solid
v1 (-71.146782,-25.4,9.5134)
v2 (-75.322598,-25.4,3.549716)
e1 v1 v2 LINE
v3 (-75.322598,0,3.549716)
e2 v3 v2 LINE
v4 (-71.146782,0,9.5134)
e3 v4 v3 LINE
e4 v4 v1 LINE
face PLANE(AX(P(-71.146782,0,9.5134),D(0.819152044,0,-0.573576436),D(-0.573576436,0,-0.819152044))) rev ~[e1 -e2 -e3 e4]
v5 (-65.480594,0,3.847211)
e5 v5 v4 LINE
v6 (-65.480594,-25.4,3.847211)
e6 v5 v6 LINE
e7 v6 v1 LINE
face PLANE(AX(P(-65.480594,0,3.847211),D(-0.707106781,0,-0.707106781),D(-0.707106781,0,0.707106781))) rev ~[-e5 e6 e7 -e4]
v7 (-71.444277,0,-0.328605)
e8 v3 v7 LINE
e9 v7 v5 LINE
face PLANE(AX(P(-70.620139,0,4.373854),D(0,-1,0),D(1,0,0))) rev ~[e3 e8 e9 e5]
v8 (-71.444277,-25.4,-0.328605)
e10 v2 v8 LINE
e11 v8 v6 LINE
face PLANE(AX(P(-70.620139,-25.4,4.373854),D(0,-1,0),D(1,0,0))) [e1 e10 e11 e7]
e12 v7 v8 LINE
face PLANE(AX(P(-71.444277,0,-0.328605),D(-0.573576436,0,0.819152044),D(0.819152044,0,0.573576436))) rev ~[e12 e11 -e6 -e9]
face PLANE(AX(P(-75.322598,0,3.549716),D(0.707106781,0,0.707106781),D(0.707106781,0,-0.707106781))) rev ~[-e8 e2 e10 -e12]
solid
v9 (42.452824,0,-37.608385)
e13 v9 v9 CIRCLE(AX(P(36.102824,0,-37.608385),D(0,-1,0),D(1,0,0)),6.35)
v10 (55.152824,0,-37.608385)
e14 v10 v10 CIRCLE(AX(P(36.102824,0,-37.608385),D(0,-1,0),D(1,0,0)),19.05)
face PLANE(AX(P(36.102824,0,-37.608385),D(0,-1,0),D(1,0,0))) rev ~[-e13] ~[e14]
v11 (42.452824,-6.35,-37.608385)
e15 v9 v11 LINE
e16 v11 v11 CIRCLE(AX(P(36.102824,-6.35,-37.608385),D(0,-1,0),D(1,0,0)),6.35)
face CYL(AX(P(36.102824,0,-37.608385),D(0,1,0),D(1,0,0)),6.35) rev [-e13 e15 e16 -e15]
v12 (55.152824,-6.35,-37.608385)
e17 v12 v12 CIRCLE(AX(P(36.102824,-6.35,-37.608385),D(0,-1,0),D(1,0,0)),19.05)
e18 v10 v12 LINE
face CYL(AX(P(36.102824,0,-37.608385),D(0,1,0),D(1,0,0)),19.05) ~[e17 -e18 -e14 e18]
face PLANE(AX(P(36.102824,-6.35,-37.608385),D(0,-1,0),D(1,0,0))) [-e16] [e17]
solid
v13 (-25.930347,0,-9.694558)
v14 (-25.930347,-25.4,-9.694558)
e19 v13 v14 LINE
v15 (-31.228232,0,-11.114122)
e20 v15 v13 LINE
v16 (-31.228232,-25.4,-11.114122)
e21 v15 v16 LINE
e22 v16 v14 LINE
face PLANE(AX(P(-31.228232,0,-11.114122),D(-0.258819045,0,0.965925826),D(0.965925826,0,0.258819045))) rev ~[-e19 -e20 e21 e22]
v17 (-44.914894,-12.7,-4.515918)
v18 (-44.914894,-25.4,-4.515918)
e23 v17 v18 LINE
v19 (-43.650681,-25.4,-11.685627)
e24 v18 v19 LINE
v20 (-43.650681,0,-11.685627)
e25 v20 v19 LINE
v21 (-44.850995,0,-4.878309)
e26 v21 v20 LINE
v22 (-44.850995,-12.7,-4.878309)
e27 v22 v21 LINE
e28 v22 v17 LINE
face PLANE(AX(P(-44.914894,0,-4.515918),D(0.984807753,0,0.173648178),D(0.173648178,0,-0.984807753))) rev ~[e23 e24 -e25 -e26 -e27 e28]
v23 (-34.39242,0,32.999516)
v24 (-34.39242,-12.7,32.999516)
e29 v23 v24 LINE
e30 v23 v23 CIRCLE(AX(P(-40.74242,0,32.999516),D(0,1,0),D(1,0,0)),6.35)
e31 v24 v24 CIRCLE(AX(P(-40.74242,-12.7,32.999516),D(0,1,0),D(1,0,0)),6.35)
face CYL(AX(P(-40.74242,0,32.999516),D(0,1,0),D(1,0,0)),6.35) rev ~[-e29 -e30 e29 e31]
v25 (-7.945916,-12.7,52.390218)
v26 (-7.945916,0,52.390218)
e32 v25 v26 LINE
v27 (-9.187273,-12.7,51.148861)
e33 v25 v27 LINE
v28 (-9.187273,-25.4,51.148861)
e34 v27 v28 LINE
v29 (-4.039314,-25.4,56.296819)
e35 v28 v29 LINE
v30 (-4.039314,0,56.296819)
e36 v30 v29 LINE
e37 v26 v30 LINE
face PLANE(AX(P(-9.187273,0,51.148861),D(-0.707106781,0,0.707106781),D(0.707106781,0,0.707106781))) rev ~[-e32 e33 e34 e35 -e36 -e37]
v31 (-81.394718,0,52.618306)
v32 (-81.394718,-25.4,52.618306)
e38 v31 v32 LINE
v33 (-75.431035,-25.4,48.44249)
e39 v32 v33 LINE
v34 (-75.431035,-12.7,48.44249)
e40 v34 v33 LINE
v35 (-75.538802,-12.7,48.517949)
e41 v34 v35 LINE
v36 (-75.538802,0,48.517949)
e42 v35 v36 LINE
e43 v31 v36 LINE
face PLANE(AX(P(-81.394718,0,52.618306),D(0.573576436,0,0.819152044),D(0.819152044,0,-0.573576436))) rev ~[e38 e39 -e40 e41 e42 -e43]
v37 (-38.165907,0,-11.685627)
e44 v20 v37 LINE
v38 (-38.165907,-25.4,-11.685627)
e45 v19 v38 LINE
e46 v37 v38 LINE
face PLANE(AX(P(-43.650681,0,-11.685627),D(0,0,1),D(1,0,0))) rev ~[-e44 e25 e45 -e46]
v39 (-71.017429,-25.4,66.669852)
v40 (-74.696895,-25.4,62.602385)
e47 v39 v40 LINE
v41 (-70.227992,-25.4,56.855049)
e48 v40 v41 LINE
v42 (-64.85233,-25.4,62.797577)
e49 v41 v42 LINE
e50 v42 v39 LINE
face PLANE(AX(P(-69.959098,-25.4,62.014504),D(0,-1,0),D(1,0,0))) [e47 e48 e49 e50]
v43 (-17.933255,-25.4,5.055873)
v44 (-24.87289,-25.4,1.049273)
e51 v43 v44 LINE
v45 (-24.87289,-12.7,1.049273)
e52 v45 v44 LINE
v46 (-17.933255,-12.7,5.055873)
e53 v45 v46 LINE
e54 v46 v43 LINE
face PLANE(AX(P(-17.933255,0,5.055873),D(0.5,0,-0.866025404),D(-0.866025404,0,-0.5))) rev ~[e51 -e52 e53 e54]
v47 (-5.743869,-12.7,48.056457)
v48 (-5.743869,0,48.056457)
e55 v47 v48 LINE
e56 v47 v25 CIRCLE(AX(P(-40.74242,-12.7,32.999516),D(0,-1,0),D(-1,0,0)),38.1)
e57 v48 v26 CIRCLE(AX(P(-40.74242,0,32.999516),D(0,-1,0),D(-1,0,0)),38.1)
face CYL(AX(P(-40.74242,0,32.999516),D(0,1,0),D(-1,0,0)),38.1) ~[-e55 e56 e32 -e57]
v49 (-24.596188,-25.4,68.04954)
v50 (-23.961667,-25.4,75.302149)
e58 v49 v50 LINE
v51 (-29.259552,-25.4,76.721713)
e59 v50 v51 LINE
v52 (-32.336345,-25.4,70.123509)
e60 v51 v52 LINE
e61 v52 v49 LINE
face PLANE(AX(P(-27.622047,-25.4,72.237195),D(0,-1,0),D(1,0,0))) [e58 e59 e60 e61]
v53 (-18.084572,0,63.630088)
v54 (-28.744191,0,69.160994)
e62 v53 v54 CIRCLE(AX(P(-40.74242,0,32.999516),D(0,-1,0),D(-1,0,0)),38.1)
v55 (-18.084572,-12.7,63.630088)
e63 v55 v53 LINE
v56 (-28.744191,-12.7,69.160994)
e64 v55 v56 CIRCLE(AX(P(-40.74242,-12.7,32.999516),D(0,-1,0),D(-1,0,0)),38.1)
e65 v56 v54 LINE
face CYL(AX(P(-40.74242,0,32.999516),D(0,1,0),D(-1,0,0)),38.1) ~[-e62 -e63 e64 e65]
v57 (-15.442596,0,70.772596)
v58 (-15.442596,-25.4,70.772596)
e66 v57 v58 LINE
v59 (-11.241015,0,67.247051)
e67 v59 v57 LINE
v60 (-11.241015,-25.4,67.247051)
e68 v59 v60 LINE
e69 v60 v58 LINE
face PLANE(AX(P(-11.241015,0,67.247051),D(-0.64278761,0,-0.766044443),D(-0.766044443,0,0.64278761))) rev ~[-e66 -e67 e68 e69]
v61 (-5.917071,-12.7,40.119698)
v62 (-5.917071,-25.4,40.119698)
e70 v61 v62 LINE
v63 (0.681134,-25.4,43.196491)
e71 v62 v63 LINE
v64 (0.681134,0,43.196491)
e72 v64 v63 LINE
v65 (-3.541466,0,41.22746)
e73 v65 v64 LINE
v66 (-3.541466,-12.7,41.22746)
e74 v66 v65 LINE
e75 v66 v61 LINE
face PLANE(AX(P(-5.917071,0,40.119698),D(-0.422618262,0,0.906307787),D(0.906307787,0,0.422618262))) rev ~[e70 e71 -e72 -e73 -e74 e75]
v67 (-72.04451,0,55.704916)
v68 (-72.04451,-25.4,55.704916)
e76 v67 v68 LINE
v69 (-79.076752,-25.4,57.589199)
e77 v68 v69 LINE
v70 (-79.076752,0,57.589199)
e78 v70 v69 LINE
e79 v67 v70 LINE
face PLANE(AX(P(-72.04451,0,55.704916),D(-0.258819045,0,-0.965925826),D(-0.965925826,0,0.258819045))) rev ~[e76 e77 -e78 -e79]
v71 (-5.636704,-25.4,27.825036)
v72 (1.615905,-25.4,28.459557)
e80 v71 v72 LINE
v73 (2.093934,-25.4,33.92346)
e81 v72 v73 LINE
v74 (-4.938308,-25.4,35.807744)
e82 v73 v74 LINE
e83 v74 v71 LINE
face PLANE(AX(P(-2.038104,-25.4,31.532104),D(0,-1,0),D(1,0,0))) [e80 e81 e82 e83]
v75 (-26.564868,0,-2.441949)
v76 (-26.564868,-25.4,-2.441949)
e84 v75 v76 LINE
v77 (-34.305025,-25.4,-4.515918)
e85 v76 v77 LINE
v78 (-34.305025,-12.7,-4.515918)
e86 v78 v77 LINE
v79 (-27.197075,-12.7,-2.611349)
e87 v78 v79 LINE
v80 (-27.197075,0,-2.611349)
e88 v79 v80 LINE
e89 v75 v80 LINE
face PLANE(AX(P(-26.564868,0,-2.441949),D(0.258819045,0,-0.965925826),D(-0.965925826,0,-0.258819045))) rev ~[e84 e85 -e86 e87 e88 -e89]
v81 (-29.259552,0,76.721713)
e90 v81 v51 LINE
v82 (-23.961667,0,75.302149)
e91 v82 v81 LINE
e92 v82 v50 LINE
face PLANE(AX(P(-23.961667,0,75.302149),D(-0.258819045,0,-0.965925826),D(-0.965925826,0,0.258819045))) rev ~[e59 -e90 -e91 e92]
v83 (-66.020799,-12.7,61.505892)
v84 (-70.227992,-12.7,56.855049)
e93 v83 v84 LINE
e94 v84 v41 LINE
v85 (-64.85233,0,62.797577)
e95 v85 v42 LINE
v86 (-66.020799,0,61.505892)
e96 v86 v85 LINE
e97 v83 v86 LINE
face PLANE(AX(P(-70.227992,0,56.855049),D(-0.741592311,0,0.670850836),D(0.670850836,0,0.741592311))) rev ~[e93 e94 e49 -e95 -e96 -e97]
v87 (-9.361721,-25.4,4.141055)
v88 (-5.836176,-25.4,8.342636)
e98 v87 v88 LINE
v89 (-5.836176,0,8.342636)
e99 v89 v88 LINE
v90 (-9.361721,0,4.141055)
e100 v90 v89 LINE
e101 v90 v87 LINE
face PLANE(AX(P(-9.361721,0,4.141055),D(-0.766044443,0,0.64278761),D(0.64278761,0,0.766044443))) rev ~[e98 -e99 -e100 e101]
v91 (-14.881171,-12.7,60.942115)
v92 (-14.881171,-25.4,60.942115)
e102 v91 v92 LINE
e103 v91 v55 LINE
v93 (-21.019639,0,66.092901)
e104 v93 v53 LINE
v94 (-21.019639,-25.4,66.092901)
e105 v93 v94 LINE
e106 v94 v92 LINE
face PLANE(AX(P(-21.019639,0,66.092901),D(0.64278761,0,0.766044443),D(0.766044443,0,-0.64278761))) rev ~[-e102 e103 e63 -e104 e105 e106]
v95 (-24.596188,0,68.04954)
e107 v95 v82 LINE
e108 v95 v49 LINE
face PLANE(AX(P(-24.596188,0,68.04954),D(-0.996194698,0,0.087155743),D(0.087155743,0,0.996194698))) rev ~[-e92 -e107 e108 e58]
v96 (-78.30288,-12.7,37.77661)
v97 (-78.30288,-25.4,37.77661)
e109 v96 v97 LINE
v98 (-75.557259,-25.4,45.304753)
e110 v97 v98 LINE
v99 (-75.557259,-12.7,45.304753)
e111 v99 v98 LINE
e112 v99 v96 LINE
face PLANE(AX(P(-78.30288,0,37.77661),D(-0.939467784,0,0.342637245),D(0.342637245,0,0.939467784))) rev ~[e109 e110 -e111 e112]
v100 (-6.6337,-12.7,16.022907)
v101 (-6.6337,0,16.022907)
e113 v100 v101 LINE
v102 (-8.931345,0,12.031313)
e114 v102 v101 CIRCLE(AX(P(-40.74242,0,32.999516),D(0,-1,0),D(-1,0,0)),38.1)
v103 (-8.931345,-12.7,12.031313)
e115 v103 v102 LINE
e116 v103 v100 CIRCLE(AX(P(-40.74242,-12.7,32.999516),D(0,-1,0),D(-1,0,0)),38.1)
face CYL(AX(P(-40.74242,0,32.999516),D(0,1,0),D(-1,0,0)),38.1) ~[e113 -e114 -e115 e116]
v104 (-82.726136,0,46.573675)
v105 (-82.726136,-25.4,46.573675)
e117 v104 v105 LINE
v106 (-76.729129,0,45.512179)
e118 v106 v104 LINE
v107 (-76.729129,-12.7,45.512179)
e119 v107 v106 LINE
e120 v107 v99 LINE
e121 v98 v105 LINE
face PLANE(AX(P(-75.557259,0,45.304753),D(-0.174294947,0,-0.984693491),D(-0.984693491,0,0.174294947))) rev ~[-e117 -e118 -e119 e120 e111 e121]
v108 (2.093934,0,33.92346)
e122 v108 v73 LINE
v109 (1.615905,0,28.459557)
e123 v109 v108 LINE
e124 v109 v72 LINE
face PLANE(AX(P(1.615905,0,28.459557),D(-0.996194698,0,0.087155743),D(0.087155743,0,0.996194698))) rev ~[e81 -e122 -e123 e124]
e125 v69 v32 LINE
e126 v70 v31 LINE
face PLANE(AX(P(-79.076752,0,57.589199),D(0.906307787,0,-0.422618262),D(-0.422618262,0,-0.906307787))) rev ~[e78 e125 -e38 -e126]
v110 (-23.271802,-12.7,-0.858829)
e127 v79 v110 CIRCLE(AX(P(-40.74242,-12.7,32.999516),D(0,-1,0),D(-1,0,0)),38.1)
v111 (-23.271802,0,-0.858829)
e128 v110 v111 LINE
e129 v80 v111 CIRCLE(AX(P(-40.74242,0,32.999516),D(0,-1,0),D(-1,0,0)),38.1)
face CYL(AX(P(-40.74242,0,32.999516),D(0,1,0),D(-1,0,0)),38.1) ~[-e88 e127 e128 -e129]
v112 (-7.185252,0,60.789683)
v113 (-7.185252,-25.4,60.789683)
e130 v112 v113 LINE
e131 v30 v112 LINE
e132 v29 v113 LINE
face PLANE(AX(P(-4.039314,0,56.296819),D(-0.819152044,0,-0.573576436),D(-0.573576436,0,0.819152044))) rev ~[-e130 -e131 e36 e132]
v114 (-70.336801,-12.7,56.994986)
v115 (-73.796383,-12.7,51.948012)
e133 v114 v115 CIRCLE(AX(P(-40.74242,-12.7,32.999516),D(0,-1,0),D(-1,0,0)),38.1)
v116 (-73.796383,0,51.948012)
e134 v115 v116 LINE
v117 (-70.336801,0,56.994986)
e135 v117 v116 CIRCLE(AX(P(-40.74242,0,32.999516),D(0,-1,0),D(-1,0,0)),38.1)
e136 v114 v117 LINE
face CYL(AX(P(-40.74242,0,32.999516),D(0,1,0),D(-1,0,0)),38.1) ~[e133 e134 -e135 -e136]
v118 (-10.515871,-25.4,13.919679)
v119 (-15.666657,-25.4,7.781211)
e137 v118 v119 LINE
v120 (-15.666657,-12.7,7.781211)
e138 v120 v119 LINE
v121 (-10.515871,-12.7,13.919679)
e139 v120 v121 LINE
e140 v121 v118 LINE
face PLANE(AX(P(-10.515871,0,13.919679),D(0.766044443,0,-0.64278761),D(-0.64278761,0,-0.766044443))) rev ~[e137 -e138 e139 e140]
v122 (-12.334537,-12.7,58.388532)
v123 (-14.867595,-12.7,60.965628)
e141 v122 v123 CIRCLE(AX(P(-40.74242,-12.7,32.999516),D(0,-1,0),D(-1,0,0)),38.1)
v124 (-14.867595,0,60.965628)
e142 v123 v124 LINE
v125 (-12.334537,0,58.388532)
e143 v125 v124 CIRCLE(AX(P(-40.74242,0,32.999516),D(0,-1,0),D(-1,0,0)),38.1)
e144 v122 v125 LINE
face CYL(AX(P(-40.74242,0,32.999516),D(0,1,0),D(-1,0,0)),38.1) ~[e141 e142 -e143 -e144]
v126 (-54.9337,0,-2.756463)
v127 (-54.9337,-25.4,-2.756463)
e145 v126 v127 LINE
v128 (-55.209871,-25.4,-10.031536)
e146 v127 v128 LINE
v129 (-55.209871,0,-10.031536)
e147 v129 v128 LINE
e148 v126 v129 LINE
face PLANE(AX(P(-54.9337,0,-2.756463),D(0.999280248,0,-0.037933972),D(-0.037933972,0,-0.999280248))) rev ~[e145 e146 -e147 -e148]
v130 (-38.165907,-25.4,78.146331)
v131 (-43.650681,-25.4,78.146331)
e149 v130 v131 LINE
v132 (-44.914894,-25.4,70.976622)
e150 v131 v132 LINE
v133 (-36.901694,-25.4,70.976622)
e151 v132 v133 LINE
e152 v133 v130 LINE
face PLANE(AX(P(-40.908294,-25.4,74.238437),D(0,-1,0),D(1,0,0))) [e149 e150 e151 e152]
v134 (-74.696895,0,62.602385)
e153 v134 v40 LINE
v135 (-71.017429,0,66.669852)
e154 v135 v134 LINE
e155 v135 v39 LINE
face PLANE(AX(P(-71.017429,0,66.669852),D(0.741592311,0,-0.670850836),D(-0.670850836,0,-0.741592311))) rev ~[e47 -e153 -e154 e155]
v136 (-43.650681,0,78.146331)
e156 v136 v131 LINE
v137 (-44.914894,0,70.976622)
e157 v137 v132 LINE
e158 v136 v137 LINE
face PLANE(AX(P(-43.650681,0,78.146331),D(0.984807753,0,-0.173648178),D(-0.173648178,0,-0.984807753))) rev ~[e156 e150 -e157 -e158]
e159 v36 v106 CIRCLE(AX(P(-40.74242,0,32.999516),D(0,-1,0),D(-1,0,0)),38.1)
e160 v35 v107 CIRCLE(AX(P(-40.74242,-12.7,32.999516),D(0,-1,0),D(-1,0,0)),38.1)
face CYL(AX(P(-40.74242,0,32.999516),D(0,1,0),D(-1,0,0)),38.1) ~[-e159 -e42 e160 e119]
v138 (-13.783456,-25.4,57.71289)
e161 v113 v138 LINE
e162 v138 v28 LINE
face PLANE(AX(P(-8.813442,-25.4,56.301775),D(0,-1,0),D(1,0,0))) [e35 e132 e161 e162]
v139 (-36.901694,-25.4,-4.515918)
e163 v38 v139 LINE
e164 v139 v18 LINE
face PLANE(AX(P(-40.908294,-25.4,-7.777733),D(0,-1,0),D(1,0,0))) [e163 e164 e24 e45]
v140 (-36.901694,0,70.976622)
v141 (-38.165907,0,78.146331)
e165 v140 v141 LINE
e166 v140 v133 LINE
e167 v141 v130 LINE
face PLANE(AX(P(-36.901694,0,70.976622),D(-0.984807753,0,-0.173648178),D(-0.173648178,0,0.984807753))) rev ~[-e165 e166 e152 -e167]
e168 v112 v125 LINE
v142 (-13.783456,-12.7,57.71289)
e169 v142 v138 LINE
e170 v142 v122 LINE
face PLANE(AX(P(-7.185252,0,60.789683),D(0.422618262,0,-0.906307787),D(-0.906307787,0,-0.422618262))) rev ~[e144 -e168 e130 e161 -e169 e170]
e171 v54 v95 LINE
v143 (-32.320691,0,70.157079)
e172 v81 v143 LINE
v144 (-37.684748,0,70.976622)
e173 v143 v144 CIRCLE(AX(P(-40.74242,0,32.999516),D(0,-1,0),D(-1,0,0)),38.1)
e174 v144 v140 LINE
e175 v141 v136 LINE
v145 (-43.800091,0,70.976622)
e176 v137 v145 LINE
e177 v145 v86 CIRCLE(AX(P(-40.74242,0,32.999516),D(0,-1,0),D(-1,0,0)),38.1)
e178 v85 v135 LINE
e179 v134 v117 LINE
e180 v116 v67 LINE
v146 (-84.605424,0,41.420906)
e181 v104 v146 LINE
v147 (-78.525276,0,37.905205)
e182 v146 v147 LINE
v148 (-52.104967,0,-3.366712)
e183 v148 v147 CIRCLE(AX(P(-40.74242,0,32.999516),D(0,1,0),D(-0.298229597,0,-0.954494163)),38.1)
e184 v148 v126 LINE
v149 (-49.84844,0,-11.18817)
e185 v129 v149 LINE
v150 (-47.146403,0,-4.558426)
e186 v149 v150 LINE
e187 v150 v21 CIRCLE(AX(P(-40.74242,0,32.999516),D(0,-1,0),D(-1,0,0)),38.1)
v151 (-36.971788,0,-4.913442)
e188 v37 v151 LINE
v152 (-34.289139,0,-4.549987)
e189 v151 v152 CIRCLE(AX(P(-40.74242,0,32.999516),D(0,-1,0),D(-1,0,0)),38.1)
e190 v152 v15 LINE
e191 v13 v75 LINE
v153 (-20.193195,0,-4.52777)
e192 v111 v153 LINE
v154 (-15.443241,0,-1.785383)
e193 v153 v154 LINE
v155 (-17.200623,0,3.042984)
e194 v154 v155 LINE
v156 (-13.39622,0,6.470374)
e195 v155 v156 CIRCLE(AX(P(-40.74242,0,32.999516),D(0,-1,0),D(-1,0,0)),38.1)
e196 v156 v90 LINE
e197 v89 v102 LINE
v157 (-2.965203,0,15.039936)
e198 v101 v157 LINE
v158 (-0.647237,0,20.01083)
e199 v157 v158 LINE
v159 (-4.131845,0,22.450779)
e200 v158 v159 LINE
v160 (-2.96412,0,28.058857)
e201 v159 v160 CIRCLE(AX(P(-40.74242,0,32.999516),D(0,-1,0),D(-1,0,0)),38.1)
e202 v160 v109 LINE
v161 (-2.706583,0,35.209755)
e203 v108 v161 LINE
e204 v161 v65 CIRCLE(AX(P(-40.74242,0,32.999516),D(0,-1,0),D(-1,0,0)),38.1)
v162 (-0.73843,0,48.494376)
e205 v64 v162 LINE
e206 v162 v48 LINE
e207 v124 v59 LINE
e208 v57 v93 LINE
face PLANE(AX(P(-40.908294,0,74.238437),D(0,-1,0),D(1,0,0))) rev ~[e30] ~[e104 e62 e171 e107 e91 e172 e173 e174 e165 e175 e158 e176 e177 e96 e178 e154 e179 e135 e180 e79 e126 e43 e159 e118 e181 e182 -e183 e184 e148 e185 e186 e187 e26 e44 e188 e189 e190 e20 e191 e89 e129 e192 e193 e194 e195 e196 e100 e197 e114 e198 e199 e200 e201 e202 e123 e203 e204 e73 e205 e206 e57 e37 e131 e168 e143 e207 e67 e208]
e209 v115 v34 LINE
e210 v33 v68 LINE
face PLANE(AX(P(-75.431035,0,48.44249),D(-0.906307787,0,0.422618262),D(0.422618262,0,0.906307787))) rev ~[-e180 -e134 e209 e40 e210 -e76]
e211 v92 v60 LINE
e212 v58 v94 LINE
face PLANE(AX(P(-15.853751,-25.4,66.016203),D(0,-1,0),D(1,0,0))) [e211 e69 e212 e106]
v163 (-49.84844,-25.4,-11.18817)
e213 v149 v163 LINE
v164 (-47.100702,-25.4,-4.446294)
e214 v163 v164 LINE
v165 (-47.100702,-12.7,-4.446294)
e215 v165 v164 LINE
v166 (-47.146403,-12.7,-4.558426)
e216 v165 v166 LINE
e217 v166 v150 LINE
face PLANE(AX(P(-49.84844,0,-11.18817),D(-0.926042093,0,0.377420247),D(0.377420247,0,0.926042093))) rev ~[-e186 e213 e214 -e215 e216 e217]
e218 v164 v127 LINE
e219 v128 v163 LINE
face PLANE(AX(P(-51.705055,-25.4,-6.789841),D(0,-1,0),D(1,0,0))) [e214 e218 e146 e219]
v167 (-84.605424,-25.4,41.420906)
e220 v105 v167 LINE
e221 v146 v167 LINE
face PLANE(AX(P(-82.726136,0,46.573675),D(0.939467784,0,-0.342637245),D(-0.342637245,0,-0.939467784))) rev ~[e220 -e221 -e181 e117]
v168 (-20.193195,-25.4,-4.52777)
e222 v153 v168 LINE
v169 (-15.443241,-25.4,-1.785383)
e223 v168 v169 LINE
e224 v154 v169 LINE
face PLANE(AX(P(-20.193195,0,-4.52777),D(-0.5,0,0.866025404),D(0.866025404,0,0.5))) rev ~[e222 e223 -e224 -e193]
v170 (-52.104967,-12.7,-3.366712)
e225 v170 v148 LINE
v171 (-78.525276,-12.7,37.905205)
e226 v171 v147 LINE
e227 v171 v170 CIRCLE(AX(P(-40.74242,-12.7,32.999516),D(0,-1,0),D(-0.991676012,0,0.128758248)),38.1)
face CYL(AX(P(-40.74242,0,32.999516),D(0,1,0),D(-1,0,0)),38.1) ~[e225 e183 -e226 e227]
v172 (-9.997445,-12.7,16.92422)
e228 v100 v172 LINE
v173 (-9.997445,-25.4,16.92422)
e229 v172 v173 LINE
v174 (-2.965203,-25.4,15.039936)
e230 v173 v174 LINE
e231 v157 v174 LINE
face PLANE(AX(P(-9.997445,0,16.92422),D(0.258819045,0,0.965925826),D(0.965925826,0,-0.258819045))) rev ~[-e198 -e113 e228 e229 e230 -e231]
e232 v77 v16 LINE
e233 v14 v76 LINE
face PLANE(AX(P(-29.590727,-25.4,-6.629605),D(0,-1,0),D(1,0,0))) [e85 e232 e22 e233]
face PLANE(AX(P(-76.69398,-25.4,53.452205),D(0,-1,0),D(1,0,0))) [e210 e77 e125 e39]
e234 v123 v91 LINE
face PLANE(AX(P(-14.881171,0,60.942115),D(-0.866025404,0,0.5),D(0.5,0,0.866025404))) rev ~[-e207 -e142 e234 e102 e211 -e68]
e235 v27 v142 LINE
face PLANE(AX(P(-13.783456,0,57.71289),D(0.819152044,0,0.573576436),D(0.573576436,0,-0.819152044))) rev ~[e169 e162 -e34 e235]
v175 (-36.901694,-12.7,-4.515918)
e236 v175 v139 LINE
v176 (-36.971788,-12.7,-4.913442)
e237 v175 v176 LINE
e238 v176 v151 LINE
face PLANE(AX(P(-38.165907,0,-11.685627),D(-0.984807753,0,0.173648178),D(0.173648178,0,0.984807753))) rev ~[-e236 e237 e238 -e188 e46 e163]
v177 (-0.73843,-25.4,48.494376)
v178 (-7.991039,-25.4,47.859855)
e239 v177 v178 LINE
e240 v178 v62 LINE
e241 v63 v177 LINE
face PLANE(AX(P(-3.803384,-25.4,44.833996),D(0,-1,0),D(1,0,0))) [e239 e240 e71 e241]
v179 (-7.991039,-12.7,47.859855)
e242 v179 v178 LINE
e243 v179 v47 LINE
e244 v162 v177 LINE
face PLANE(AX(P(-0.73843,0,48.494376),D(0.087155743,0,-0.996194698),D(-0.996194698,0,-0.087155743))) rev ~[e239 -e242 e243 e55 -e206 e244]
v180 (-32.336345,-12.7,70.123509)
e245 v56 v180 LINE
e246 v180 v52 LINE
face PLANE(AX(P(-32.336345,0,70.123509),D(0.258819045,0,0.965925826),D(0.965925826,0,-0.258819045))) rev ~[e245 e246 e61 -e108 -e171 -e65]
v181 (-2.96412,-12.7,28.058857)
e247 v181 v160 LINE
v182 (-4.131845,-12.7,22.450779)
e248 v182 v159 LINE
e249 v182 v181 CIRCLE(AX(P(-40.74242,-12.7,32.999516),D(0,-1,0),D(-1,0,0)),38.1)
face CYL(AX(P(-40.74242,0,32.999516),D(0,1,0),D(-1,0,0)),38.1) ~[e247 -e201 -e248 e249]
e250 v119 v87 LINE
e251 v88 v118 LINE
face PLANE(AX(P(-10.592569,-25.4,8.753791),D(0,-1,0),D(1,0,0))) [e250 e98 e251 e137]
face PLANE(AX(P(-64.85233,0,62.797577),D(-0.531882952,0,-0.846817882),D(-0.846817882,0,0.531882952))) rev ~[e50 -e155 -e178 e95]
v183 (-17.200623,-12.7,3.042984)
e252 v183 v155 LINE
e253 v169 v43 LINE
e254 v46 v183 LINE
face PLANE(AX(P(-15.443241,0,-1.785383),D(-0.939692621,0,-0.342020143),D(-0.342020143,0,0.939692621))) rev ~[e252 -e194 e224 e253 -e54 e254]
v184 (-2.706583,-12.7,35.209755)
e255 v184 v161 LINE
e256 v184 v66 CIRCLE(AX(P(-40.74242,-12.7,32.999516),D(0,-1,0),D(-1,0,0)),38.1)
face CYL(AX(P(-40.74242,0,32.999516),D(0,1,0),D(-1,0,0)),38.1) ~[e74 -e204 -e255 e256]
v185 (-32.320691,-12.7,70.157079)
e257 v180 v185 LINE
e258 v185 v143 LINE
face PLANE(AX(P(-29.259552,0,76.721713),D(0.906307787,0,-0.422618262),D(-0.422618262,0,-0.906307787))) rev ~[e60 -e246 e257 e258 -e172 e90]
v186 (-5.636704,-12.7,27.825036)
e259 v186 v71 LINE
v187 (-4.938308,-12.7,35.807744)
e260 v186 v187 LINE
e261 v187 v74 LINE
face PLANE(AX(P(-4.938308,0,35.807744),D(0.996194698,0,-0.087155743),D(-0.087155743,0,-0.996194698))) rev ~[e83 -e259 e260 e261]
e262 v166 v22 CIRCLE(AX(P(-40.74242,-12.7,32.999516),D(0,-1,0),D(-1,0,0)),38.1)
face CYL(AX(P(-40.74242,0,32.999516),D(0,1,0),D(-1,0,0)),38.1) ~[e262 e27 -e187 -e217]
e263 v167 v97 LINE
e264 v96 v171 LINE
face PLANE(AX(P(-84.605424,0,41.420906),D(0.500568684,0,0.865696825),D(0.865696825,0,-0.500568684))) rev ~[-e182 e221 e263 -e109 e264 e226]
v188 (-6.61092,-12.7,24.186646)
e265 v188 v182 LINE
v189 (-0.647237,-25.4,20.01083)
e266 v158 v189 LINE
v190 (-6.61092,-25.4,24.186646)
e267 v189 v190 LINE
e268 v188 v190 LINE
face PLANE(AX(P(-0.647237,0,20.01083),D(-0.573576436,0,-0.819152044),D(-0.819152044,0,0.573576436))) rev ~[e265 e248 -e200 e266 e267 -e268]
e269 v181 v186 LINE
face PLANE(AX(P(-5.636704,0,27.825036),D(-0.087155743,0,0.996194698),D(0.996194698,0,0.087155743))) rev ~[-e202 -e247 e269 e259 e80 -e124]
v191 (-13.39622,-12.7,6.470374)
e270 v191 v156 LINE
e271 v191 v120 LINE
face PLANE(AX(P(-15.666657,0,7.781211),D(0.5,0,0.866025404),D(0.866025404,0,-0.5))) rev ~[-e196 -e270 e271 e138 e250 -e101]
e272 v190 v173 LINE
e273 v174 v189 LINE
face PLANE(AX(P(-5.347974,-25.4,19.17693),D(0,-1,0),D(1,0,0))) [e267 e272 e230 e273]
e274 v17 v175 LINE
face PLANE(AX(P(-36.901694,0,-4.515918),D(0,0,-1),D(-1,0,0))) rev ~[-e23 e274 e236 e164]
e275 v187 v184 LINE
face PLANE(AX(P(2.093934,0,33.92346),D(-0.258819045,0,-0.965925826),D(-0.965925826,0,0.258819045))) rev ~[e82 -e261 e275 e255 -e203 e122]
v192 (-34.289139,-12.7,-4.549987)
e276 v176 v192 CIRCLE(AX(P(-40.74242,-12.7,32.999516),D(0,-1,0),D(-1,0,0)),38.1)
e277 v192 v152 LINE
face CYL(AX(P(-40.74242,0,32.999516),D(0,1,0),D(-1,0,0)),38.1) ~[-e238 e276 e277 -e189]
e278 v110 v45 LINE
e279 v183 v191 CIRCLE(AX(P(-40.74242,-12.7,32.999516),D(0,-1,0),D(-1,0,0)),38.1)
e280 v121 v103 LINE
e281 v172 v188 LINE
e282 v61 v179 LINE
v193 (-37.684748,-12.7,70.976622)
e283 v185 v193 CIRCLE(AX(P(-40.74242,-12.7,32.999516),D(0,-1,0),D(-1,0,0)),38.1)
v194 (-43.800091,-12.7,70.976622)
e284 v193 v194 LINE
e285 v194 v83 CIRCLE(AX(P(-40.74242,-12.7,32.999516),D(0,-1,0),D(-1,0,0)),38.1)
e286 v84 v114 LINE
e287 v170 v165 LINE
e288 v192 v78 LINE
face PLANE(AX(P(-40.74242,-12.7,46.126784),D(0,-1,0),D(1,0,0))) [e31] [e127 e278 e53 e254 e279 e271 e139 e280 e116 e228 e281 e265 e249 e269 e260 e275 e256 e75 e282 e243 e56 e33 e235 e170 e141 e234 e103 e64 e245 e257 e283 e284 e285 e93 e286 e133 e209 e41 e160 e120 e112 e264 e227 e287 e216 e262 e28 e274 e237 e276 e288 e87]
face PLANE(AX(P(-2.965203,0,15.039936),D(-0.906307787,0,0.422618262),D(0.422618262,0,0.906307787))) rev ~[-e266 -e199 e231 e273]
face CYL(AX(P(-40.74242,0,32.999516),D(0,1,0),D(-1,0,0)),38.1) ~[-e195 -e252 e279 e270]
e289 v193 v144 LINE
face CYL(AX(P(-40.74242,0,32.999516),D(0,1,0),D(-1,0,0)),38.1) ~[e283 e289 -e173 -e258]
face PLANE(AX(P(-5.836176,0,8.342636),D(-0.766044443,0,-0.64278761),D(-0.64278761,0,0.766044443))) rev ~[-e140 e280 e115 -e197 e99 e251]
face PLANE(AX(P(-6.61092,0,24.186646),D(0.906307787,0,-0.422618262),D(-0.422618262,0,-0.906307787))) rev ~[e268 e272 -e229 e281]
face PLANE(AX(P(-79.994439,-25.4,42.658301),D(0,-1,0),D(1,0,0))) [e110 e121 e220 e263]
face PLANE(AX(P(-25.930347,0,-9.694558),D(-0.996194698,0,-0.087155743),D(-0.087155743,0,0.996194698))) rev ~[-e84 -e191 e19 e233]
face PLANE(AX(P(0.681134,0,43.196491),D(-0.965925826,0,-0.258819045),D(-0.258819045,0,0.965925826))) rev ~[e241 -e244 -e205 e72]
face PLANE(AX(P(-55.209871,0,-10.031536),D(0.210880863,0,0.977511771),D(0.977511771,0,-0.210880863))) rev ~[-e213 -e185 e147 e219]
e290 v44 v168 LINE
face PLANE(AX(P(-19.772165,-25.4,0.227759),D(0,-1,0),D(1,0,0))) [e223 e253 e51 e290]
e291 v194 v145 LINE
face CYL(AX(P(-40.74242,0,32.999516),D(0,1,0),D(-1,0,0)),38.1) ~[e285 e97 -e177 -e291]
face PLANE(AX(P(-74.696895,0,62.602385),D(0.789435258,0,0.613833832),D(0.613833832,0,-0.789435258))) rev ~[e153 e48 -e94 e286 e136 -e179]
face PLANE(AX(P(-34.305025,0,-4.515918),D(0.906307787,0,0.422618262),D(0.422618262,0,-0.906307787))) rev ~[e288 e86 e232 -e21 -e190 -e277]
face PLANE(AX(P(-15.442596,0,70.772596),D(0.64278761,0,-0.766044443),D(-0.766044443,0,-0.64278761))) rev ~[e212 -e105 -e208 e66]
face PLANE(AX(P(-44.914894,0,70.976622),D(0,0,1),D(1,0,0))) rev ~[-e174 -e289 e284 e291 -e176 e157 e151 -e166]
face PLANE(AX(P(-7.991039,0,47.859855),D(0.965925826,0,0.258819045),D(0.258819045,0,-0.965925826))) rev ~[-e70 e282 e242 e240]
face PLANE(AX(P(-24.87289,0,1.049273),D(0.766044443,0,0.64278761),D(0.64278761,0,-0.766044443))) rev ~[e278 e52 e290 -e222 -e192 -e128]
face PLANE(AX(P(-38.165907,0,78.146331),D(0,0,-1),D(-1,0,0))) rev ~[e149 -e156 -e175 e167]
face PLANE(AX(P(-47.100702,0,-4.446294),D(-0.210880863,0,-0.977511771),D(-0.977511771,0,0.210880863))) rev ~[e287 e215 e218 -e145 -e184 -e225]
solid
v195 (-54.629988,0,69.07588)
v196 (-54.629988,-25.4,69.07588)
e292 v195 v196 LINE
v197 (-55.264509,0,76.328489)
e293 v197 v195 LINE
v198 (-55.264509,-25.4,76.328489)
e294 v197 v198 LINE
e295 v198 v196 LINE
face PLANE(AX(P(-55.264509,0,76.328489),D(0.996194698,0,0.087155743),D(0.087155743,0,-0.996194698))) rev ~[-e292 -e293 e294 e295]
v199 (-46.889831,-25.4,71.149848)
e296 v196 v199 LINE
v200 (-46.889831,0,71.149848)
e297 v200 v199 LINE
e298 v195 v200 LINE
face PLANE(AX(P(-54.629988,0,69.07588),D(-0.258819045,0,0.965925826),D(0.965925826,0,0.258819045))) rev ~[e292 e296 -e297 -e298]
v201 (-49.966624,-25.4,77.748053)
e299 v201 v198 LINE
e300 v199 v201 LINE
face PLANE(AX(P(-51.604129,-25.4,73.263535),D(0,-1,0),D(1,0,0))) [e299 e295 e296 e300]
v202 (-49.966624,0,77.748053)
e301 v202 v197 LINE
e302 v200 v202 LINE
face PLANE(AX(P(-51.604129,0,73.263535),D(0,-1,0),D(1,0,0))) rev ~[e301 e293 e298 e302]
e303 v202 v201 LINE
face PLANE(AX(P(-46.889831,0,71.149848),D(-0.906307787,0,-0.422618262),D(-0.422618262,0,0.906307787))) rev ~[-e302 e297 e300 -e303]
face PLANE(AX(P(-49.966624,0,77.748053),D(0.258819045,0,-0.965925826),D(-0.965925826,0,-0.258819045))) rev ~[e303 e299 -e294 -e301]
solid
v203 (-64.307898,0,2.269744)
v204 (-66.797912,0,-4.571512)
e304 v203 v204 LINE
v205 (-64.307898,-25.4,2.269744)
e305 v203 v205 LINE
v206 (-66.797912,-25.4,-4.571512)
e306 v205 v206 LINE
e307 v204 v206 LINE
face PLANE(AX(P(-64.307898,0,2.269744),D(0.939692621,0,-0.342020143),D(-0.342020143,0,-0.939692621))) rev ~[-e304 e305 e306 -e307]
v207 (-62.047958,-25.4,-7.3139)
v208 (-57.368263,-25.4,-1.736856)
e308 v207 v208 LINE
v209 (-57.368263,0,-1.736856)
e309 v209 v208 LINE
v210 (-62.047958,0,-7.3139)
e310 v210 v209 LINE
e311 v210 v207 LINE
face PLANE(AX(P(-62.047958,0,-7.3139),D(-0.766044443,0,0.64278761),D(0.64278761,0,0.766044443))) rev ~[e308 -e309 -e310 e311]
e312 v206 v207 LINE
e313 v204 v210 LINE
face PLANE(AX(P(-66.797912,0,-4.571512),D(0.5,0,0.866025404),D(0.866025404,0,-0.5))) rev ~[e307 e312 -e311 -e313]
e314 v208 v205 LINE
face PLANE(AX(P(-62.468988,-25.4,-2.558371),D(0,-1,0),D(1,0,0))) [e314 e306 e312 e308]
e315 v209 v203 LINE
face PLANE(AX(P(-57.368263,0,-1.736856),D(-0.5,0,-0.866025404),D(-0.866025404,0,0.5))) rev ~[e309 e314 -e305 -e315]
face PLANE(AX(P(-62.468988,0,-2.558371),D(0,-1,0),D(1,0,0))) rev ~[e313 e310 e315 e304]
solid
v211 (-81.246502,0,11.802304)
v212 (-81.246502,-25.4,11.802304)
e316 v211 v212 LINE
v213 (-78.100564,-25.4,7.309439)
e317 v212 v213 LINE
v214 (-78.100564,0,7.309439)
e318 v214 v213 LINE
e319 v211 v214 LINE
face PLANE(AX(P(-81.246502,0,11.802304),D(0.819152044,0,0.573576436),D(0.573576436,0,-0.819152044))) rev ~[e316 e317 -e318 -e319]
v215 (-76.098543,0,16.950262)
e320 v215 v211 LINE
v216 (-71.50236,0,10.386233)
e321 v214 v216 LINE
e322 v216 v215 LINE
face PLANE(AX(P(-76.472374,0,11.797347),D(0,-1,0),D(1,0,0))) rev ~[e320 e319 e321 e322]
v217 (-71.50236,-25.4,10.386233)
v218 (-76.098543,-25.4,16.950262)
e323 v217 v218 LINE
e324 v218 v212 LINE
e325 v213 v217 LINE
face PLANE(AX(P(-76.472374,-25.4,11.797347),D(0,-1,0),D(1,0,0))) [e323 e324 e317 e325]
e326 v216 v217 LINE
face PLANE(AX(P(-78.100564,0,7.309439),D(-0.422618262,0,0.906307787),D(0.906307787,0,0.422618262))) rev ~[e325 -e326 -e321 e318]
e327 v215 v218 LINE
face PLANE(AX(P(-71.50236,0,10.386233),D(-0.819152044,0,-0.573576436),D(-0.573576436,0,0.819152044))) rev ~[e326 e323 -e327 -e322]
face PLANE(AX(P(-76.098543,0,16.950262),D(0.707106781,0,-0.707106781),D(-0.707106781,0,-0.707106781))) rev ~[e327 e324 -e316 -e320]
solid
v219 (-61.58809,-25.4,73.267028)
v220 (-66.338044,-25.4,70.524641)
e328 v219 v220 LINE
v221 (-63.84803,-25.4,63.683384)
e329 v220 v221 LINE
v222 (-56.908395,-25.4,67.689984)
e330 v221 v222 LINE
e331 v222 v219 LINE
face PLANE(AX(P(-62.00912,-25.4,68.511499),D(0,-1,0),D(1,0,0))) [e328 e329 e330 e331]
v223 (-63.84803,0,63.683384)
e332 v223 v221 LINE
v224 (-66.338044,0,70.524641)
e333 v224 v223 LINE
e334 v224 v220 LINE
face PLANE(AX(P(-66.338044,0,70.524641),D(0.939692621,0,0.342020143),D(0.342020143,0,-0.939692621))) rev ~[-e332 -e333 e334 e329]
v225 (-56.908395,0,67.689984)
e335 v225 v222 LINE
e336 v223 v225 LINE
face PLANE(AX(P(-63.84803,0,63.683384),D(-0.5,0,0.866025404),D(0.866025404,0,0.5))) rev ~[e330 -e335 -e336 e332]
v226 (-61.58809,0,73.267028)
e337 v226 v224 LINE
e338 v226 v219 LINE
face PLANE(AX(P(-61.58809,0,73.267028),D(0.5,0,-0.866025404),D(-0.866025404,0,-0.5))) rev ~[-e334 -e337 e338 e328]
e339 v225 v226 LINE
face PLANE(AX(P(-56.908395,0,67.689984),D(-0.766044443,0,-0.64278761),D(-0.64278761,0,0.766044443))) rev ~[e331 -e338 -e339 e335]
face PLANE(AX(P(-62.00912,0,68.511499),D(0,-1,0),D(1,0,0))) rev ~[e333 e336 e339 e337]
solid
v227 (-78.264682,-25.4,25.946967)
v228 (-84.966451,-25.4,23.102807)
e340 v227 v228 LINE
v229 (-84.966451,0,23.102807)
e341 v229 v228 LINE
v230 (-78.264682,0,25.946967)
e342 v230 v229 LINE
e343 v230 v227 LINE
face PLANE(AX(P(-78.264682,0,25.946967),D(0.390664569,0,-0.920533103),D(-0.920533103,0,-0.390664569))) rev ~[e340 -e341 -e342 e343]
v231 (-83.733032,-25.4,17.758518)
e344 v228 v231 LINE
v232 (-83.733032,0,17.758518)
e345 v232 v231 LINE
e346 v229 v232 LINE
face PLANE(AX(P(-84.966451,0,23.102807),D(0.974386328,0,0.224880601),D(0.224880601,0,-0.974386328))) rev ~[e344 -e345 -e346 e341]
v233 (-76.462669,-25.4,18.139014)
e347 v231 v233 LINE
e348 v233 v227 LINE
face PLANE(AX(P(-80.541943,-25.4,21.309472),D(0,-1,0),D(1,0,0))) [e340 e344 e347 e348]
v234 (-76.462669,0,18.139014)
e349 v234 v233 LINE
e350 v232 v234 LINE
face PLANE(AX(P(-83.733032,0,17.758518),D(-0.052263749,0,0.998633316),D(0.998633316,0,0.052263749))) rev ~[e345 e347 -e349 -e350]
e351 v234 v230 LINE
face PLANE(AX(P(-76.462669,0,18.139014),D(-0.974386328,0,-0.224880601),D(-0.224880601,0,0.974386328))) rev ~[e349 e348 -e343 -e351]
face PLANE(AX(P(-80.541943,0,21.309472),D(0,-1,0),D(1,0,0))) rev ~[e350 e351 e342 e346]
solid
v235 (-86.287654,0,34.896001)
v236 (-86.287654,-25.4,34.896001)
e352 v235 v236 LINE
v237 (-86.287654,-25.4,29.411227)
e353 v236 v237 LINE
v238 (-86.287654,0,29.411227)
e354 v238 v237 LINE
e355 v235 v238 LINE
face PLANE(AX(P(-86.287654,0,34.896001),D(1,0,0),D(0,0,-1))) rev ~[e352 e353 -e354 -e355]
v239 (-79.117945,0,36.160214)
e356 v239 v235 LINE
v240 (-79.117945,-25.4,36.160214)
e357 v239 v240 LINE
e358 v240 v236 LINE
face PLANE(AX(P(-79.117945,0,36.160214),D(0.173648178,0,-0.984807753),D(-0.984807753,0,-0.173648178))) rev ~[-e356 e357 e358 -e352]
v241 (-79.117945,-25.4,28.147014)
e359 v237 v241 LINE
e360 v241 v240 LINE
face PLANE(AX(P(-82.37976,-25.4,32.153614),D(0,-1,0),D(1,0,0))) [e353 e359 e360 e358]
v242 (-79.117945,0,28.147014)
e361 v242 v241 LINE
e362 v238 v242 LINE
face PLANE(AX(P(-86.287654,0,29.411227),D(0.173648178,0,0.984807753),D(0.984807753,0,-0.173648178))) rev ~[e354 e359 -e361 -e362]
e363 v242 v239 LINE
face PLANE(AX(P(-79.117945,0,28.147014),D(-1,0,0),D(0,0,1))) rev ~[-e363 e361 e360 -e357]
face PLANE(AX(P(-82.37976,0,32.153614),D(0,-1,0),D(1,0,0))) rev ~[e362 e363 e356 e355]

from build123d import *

# Parameters (mm, degrees)
F1_DEPTH = 12.7
F2_R     = 19.05
F2_R_2   = 6.35
F3_DEPTH = 6.35
F5_DEPTH = 25.4


with BuildPart() as f1:
    # F0 (on Front) → F1 (new body)
    with BuildSketch(Plane.XZ):
        with BuildLine():
            ThreePointArc((-47.0924196601, 32.9995155334), (-40.7424196601, 39.3495155334), (-34.3924196601, 32.9995155334))
            Line((-34.3924196601, 32.9995155334), (-2.6424196601, 32.9995155334))
            ThreePointArc((-2.6424196601, 32.9995155334), (-40.7424196601, 71.0995155334), (-78.8424196601, 32.9995155334))
            Line((-78.8424196601, 32.9995155334), (-47.0924196601, 32.9995155334))
        make_face()
        with BuildLine():
            Line((-2.6424196601, 32.9995155334), (-34.3924196601, 32.9995155334))
            ThreePointArc((-34.3924196601, 32.9995155334), (-40.7424196601, 26.6495155334), (-47.0924196601, 32.9995155334))
            Line((-47.0924196601, 32.9995155334), (-78.8424196601, 32.9995155334))
            ThreePointArc((-78.8424196601, 32.9995155334), (-40.7424196601, -5.1004844666), (-2.6424196601, 32.9995155334))
        make_face()
    extrude(amount=F1_DEPTH)

    # F4 (on Front) → F5, piece 8 (join)
    with BuildSketch(Plane.XZ):
        Polygon((-38.1659068628, 78.1463310122), (-43.650681225, 78.1463310122), (-44.9148942967, 70.9766224027), (-36.9016937912, 70.9766224027), align=None)
        Polygon((-23.9616667882, 75.3021488025), (-29.2595519959, 76.7217128655), (-32.3363451878, 70.1235085726), (-24.5961878683, 68.0495396695), align=None)
        Polygon((-11.2410145817, 67.2470508706), (-15.4425955036, 70.7725958725), (-21.0196387614, 66.0929009318), (-14.8811710425, 60.9421149329), align=None)
        Polygon((-4.0393144459, 56.2968192684), (-7.1852517787, 60.7896833996), (-13.7834560717, 57.7128902078), (-9.187273082, 51.1488606324), align=None)
        Polygon((0.6811337856, 43.1964908686), (-0.7384302774, 48.4943760763), (-7.9910394104, 47.8598549962), (-5.9170705074, 40.1196976767), align=None)
        Polygon((1.6159048783, 28.4595568903), (2.0939344616, 33.9234600301), (-4.9383078128, 35.8077436686), (-5.6367042547, 27.8250358102), align=None)
        Polygon((-2.9652025274, 15.0399360099), (-0.6472367204, 20.0108297245), (-6.6109199333, 24.1866456656), (-9.9974448019, 16.9242196483), align=None)
        Polygon((-9.3617214584, 4.1410547296), (-5.8361764565, 8.3426356515), (-10.5158713972, 13.9196789093), (-15.6666573961, 7.7812111904), align=None)
        Polygon((-20.193195102, -4.5277704628), (-15.4432411704, -1.7853832818), (-17.9332548393, 5.0558730477), (-24.8728900427, 1.049272795), align=None)
        Polygon((-31.2282322947, -11.1141224071), (-25.9303470869, -9.694558344), (-26.564868167, -2.4419492111), (-34.3050254866, -4.5159181141), align=None)
        Polygon((-43.650681225, -11.6856267237), (-38.1659068628, -11.6856267237), (-36.9016937912, -4.5159181141), (-44.9148942967, -4.5159181141), align=None)
        Polygon((-55.2098710533, -10.031535999), (-49.8484395557, -11.1881699516), (-47.1007020564, -4.4462937386), (-54.93369987, -2.756463098), align=None)
        Polygon((-82.7261356414, 46.5736751104), (-84.6054236202, 41.4209062919), (-78.3028798417, 37.7766096304), (-75.5572588941, 45.3047533561), align=None)
        Polygon((-71.0174292326, 66.6698515415), (-74.6968947013, 62.6023850489), (-70.2279923235, 56.855049338), (-64.8523300615, 62.7975772165), align=None)
        Polygon((-79.0767520666, 57.589199394), (-81.3947178736, 52.6183056794), (-75.4310346608, 48.4424897383), (-72.0445097921, 55.7049157556), align=None)
    extrude(amount=F5_DEPTH)


with BuildPart() as f3:
    # F2 (on Front) → F3 (new body)
    with BuildSketch(Plane.XZ):
        with Locations((36.1028239131, -37.6083850861)):
            Circle(F2_R)
        with Locations((36.1028239131, -37.6083850861)):
            Circle(F2_R_2, mode=Mode.SUBTRACT)
    extrude(amount=F3_DEPTH)


with BuildPart() as f5:
    # F4 (on Front) → F5 (new body)
    with BuildSketch(Plane.XZ):
        Polygon((-66.7979119475, -4.5715123415), (-62.0479580159, -7.3138995226), (-57.3682630752, -1.7368562648), (-64.3078982786, 2.269743988), align=None)
    extrude(amount=F5_DEPTH)


with BuildPart() as f5b:
    # F4 (on Front) → F5, piece 2 (new body)
    with BuildSketch(Plane.XZ):
        Polygon((-75.3225982189, 3.5497164354), (-71.4442770742, -0.3286047094), (-65.4805938613, 3.8472112317), (-71.1467822778, 9.5133996482), align=None)
    extrude(amount=F5_DEPTH)


with BuildPart() as f5c:
    # F4 (on Front) → F5, piece 3 (new body)
    with BuildSketch(Plane.XZ):
        Polygon((-81.2465018022, 11.8023036048), (-78.1005644693, 7.3094394736), (-71.5023601764, 10.3862326654), (-76.0985431661, 16.9502622408), align=None)
    extrude(amount=F5_DEPTH)


with BuildPart() as f5d:
    # F4 (on Front) → F5, piece 4 (new body)
    with BuildSketch(Plane.XZ):
        Polygon((-84.9664509296, 23.1028068811), (-83.7330315748, 17.7585177329), (-76.4626685378, 18.1390141818), (-78.2646818834, 25.9469671943), align=None)
    extrude(amount=F5_DEPTH)


with BuildPart() as f5e:
    # F4 (on Front) → F5, piece 5 (new body)
    with BuildSketch(Plane.XZ):
        Polygon((-86.287654041, 34.8960010465), (-86.287654041, 29.4112266843), (-79.1179454314, 28.1470136126), (-79.1179454314, 36.1602141181), align=None)
    extrude(amount=F5_DEPTH)


with BuildPart() as f5f:
    # F4 (on Front) → F5, piece 6 (new body)
    with BuildSketch(Plane.XZ):
        Polygon((-49.9666237613, 77.7480527759), (-55.2645089691, 76.3284887128), (-54.6299878889, 69.0758795799), (-46.8898305694, 71.1498484829), align=None)
    extrude(amount=F5_DEPTH)


with BuildPart() as f5g:
    # F4 (on Front) → F5, piece 7 (new body)
    with BuildSketch(Plane.XZ):
        Polygon((-61.5880899131, 73.2670277357), (-66.3380438448, 70.5246405546), (-63.8480301759, 63.6833842252), (-56.9083949725, 67.6899844779), align=None)
    extrude(amount=F5_DEPTH)


solid = Compound([f1.part, f3.part, f5.part, f5b.part, f5c.part, f5d.part, f5e.part, f5f.part, f5g.part])
